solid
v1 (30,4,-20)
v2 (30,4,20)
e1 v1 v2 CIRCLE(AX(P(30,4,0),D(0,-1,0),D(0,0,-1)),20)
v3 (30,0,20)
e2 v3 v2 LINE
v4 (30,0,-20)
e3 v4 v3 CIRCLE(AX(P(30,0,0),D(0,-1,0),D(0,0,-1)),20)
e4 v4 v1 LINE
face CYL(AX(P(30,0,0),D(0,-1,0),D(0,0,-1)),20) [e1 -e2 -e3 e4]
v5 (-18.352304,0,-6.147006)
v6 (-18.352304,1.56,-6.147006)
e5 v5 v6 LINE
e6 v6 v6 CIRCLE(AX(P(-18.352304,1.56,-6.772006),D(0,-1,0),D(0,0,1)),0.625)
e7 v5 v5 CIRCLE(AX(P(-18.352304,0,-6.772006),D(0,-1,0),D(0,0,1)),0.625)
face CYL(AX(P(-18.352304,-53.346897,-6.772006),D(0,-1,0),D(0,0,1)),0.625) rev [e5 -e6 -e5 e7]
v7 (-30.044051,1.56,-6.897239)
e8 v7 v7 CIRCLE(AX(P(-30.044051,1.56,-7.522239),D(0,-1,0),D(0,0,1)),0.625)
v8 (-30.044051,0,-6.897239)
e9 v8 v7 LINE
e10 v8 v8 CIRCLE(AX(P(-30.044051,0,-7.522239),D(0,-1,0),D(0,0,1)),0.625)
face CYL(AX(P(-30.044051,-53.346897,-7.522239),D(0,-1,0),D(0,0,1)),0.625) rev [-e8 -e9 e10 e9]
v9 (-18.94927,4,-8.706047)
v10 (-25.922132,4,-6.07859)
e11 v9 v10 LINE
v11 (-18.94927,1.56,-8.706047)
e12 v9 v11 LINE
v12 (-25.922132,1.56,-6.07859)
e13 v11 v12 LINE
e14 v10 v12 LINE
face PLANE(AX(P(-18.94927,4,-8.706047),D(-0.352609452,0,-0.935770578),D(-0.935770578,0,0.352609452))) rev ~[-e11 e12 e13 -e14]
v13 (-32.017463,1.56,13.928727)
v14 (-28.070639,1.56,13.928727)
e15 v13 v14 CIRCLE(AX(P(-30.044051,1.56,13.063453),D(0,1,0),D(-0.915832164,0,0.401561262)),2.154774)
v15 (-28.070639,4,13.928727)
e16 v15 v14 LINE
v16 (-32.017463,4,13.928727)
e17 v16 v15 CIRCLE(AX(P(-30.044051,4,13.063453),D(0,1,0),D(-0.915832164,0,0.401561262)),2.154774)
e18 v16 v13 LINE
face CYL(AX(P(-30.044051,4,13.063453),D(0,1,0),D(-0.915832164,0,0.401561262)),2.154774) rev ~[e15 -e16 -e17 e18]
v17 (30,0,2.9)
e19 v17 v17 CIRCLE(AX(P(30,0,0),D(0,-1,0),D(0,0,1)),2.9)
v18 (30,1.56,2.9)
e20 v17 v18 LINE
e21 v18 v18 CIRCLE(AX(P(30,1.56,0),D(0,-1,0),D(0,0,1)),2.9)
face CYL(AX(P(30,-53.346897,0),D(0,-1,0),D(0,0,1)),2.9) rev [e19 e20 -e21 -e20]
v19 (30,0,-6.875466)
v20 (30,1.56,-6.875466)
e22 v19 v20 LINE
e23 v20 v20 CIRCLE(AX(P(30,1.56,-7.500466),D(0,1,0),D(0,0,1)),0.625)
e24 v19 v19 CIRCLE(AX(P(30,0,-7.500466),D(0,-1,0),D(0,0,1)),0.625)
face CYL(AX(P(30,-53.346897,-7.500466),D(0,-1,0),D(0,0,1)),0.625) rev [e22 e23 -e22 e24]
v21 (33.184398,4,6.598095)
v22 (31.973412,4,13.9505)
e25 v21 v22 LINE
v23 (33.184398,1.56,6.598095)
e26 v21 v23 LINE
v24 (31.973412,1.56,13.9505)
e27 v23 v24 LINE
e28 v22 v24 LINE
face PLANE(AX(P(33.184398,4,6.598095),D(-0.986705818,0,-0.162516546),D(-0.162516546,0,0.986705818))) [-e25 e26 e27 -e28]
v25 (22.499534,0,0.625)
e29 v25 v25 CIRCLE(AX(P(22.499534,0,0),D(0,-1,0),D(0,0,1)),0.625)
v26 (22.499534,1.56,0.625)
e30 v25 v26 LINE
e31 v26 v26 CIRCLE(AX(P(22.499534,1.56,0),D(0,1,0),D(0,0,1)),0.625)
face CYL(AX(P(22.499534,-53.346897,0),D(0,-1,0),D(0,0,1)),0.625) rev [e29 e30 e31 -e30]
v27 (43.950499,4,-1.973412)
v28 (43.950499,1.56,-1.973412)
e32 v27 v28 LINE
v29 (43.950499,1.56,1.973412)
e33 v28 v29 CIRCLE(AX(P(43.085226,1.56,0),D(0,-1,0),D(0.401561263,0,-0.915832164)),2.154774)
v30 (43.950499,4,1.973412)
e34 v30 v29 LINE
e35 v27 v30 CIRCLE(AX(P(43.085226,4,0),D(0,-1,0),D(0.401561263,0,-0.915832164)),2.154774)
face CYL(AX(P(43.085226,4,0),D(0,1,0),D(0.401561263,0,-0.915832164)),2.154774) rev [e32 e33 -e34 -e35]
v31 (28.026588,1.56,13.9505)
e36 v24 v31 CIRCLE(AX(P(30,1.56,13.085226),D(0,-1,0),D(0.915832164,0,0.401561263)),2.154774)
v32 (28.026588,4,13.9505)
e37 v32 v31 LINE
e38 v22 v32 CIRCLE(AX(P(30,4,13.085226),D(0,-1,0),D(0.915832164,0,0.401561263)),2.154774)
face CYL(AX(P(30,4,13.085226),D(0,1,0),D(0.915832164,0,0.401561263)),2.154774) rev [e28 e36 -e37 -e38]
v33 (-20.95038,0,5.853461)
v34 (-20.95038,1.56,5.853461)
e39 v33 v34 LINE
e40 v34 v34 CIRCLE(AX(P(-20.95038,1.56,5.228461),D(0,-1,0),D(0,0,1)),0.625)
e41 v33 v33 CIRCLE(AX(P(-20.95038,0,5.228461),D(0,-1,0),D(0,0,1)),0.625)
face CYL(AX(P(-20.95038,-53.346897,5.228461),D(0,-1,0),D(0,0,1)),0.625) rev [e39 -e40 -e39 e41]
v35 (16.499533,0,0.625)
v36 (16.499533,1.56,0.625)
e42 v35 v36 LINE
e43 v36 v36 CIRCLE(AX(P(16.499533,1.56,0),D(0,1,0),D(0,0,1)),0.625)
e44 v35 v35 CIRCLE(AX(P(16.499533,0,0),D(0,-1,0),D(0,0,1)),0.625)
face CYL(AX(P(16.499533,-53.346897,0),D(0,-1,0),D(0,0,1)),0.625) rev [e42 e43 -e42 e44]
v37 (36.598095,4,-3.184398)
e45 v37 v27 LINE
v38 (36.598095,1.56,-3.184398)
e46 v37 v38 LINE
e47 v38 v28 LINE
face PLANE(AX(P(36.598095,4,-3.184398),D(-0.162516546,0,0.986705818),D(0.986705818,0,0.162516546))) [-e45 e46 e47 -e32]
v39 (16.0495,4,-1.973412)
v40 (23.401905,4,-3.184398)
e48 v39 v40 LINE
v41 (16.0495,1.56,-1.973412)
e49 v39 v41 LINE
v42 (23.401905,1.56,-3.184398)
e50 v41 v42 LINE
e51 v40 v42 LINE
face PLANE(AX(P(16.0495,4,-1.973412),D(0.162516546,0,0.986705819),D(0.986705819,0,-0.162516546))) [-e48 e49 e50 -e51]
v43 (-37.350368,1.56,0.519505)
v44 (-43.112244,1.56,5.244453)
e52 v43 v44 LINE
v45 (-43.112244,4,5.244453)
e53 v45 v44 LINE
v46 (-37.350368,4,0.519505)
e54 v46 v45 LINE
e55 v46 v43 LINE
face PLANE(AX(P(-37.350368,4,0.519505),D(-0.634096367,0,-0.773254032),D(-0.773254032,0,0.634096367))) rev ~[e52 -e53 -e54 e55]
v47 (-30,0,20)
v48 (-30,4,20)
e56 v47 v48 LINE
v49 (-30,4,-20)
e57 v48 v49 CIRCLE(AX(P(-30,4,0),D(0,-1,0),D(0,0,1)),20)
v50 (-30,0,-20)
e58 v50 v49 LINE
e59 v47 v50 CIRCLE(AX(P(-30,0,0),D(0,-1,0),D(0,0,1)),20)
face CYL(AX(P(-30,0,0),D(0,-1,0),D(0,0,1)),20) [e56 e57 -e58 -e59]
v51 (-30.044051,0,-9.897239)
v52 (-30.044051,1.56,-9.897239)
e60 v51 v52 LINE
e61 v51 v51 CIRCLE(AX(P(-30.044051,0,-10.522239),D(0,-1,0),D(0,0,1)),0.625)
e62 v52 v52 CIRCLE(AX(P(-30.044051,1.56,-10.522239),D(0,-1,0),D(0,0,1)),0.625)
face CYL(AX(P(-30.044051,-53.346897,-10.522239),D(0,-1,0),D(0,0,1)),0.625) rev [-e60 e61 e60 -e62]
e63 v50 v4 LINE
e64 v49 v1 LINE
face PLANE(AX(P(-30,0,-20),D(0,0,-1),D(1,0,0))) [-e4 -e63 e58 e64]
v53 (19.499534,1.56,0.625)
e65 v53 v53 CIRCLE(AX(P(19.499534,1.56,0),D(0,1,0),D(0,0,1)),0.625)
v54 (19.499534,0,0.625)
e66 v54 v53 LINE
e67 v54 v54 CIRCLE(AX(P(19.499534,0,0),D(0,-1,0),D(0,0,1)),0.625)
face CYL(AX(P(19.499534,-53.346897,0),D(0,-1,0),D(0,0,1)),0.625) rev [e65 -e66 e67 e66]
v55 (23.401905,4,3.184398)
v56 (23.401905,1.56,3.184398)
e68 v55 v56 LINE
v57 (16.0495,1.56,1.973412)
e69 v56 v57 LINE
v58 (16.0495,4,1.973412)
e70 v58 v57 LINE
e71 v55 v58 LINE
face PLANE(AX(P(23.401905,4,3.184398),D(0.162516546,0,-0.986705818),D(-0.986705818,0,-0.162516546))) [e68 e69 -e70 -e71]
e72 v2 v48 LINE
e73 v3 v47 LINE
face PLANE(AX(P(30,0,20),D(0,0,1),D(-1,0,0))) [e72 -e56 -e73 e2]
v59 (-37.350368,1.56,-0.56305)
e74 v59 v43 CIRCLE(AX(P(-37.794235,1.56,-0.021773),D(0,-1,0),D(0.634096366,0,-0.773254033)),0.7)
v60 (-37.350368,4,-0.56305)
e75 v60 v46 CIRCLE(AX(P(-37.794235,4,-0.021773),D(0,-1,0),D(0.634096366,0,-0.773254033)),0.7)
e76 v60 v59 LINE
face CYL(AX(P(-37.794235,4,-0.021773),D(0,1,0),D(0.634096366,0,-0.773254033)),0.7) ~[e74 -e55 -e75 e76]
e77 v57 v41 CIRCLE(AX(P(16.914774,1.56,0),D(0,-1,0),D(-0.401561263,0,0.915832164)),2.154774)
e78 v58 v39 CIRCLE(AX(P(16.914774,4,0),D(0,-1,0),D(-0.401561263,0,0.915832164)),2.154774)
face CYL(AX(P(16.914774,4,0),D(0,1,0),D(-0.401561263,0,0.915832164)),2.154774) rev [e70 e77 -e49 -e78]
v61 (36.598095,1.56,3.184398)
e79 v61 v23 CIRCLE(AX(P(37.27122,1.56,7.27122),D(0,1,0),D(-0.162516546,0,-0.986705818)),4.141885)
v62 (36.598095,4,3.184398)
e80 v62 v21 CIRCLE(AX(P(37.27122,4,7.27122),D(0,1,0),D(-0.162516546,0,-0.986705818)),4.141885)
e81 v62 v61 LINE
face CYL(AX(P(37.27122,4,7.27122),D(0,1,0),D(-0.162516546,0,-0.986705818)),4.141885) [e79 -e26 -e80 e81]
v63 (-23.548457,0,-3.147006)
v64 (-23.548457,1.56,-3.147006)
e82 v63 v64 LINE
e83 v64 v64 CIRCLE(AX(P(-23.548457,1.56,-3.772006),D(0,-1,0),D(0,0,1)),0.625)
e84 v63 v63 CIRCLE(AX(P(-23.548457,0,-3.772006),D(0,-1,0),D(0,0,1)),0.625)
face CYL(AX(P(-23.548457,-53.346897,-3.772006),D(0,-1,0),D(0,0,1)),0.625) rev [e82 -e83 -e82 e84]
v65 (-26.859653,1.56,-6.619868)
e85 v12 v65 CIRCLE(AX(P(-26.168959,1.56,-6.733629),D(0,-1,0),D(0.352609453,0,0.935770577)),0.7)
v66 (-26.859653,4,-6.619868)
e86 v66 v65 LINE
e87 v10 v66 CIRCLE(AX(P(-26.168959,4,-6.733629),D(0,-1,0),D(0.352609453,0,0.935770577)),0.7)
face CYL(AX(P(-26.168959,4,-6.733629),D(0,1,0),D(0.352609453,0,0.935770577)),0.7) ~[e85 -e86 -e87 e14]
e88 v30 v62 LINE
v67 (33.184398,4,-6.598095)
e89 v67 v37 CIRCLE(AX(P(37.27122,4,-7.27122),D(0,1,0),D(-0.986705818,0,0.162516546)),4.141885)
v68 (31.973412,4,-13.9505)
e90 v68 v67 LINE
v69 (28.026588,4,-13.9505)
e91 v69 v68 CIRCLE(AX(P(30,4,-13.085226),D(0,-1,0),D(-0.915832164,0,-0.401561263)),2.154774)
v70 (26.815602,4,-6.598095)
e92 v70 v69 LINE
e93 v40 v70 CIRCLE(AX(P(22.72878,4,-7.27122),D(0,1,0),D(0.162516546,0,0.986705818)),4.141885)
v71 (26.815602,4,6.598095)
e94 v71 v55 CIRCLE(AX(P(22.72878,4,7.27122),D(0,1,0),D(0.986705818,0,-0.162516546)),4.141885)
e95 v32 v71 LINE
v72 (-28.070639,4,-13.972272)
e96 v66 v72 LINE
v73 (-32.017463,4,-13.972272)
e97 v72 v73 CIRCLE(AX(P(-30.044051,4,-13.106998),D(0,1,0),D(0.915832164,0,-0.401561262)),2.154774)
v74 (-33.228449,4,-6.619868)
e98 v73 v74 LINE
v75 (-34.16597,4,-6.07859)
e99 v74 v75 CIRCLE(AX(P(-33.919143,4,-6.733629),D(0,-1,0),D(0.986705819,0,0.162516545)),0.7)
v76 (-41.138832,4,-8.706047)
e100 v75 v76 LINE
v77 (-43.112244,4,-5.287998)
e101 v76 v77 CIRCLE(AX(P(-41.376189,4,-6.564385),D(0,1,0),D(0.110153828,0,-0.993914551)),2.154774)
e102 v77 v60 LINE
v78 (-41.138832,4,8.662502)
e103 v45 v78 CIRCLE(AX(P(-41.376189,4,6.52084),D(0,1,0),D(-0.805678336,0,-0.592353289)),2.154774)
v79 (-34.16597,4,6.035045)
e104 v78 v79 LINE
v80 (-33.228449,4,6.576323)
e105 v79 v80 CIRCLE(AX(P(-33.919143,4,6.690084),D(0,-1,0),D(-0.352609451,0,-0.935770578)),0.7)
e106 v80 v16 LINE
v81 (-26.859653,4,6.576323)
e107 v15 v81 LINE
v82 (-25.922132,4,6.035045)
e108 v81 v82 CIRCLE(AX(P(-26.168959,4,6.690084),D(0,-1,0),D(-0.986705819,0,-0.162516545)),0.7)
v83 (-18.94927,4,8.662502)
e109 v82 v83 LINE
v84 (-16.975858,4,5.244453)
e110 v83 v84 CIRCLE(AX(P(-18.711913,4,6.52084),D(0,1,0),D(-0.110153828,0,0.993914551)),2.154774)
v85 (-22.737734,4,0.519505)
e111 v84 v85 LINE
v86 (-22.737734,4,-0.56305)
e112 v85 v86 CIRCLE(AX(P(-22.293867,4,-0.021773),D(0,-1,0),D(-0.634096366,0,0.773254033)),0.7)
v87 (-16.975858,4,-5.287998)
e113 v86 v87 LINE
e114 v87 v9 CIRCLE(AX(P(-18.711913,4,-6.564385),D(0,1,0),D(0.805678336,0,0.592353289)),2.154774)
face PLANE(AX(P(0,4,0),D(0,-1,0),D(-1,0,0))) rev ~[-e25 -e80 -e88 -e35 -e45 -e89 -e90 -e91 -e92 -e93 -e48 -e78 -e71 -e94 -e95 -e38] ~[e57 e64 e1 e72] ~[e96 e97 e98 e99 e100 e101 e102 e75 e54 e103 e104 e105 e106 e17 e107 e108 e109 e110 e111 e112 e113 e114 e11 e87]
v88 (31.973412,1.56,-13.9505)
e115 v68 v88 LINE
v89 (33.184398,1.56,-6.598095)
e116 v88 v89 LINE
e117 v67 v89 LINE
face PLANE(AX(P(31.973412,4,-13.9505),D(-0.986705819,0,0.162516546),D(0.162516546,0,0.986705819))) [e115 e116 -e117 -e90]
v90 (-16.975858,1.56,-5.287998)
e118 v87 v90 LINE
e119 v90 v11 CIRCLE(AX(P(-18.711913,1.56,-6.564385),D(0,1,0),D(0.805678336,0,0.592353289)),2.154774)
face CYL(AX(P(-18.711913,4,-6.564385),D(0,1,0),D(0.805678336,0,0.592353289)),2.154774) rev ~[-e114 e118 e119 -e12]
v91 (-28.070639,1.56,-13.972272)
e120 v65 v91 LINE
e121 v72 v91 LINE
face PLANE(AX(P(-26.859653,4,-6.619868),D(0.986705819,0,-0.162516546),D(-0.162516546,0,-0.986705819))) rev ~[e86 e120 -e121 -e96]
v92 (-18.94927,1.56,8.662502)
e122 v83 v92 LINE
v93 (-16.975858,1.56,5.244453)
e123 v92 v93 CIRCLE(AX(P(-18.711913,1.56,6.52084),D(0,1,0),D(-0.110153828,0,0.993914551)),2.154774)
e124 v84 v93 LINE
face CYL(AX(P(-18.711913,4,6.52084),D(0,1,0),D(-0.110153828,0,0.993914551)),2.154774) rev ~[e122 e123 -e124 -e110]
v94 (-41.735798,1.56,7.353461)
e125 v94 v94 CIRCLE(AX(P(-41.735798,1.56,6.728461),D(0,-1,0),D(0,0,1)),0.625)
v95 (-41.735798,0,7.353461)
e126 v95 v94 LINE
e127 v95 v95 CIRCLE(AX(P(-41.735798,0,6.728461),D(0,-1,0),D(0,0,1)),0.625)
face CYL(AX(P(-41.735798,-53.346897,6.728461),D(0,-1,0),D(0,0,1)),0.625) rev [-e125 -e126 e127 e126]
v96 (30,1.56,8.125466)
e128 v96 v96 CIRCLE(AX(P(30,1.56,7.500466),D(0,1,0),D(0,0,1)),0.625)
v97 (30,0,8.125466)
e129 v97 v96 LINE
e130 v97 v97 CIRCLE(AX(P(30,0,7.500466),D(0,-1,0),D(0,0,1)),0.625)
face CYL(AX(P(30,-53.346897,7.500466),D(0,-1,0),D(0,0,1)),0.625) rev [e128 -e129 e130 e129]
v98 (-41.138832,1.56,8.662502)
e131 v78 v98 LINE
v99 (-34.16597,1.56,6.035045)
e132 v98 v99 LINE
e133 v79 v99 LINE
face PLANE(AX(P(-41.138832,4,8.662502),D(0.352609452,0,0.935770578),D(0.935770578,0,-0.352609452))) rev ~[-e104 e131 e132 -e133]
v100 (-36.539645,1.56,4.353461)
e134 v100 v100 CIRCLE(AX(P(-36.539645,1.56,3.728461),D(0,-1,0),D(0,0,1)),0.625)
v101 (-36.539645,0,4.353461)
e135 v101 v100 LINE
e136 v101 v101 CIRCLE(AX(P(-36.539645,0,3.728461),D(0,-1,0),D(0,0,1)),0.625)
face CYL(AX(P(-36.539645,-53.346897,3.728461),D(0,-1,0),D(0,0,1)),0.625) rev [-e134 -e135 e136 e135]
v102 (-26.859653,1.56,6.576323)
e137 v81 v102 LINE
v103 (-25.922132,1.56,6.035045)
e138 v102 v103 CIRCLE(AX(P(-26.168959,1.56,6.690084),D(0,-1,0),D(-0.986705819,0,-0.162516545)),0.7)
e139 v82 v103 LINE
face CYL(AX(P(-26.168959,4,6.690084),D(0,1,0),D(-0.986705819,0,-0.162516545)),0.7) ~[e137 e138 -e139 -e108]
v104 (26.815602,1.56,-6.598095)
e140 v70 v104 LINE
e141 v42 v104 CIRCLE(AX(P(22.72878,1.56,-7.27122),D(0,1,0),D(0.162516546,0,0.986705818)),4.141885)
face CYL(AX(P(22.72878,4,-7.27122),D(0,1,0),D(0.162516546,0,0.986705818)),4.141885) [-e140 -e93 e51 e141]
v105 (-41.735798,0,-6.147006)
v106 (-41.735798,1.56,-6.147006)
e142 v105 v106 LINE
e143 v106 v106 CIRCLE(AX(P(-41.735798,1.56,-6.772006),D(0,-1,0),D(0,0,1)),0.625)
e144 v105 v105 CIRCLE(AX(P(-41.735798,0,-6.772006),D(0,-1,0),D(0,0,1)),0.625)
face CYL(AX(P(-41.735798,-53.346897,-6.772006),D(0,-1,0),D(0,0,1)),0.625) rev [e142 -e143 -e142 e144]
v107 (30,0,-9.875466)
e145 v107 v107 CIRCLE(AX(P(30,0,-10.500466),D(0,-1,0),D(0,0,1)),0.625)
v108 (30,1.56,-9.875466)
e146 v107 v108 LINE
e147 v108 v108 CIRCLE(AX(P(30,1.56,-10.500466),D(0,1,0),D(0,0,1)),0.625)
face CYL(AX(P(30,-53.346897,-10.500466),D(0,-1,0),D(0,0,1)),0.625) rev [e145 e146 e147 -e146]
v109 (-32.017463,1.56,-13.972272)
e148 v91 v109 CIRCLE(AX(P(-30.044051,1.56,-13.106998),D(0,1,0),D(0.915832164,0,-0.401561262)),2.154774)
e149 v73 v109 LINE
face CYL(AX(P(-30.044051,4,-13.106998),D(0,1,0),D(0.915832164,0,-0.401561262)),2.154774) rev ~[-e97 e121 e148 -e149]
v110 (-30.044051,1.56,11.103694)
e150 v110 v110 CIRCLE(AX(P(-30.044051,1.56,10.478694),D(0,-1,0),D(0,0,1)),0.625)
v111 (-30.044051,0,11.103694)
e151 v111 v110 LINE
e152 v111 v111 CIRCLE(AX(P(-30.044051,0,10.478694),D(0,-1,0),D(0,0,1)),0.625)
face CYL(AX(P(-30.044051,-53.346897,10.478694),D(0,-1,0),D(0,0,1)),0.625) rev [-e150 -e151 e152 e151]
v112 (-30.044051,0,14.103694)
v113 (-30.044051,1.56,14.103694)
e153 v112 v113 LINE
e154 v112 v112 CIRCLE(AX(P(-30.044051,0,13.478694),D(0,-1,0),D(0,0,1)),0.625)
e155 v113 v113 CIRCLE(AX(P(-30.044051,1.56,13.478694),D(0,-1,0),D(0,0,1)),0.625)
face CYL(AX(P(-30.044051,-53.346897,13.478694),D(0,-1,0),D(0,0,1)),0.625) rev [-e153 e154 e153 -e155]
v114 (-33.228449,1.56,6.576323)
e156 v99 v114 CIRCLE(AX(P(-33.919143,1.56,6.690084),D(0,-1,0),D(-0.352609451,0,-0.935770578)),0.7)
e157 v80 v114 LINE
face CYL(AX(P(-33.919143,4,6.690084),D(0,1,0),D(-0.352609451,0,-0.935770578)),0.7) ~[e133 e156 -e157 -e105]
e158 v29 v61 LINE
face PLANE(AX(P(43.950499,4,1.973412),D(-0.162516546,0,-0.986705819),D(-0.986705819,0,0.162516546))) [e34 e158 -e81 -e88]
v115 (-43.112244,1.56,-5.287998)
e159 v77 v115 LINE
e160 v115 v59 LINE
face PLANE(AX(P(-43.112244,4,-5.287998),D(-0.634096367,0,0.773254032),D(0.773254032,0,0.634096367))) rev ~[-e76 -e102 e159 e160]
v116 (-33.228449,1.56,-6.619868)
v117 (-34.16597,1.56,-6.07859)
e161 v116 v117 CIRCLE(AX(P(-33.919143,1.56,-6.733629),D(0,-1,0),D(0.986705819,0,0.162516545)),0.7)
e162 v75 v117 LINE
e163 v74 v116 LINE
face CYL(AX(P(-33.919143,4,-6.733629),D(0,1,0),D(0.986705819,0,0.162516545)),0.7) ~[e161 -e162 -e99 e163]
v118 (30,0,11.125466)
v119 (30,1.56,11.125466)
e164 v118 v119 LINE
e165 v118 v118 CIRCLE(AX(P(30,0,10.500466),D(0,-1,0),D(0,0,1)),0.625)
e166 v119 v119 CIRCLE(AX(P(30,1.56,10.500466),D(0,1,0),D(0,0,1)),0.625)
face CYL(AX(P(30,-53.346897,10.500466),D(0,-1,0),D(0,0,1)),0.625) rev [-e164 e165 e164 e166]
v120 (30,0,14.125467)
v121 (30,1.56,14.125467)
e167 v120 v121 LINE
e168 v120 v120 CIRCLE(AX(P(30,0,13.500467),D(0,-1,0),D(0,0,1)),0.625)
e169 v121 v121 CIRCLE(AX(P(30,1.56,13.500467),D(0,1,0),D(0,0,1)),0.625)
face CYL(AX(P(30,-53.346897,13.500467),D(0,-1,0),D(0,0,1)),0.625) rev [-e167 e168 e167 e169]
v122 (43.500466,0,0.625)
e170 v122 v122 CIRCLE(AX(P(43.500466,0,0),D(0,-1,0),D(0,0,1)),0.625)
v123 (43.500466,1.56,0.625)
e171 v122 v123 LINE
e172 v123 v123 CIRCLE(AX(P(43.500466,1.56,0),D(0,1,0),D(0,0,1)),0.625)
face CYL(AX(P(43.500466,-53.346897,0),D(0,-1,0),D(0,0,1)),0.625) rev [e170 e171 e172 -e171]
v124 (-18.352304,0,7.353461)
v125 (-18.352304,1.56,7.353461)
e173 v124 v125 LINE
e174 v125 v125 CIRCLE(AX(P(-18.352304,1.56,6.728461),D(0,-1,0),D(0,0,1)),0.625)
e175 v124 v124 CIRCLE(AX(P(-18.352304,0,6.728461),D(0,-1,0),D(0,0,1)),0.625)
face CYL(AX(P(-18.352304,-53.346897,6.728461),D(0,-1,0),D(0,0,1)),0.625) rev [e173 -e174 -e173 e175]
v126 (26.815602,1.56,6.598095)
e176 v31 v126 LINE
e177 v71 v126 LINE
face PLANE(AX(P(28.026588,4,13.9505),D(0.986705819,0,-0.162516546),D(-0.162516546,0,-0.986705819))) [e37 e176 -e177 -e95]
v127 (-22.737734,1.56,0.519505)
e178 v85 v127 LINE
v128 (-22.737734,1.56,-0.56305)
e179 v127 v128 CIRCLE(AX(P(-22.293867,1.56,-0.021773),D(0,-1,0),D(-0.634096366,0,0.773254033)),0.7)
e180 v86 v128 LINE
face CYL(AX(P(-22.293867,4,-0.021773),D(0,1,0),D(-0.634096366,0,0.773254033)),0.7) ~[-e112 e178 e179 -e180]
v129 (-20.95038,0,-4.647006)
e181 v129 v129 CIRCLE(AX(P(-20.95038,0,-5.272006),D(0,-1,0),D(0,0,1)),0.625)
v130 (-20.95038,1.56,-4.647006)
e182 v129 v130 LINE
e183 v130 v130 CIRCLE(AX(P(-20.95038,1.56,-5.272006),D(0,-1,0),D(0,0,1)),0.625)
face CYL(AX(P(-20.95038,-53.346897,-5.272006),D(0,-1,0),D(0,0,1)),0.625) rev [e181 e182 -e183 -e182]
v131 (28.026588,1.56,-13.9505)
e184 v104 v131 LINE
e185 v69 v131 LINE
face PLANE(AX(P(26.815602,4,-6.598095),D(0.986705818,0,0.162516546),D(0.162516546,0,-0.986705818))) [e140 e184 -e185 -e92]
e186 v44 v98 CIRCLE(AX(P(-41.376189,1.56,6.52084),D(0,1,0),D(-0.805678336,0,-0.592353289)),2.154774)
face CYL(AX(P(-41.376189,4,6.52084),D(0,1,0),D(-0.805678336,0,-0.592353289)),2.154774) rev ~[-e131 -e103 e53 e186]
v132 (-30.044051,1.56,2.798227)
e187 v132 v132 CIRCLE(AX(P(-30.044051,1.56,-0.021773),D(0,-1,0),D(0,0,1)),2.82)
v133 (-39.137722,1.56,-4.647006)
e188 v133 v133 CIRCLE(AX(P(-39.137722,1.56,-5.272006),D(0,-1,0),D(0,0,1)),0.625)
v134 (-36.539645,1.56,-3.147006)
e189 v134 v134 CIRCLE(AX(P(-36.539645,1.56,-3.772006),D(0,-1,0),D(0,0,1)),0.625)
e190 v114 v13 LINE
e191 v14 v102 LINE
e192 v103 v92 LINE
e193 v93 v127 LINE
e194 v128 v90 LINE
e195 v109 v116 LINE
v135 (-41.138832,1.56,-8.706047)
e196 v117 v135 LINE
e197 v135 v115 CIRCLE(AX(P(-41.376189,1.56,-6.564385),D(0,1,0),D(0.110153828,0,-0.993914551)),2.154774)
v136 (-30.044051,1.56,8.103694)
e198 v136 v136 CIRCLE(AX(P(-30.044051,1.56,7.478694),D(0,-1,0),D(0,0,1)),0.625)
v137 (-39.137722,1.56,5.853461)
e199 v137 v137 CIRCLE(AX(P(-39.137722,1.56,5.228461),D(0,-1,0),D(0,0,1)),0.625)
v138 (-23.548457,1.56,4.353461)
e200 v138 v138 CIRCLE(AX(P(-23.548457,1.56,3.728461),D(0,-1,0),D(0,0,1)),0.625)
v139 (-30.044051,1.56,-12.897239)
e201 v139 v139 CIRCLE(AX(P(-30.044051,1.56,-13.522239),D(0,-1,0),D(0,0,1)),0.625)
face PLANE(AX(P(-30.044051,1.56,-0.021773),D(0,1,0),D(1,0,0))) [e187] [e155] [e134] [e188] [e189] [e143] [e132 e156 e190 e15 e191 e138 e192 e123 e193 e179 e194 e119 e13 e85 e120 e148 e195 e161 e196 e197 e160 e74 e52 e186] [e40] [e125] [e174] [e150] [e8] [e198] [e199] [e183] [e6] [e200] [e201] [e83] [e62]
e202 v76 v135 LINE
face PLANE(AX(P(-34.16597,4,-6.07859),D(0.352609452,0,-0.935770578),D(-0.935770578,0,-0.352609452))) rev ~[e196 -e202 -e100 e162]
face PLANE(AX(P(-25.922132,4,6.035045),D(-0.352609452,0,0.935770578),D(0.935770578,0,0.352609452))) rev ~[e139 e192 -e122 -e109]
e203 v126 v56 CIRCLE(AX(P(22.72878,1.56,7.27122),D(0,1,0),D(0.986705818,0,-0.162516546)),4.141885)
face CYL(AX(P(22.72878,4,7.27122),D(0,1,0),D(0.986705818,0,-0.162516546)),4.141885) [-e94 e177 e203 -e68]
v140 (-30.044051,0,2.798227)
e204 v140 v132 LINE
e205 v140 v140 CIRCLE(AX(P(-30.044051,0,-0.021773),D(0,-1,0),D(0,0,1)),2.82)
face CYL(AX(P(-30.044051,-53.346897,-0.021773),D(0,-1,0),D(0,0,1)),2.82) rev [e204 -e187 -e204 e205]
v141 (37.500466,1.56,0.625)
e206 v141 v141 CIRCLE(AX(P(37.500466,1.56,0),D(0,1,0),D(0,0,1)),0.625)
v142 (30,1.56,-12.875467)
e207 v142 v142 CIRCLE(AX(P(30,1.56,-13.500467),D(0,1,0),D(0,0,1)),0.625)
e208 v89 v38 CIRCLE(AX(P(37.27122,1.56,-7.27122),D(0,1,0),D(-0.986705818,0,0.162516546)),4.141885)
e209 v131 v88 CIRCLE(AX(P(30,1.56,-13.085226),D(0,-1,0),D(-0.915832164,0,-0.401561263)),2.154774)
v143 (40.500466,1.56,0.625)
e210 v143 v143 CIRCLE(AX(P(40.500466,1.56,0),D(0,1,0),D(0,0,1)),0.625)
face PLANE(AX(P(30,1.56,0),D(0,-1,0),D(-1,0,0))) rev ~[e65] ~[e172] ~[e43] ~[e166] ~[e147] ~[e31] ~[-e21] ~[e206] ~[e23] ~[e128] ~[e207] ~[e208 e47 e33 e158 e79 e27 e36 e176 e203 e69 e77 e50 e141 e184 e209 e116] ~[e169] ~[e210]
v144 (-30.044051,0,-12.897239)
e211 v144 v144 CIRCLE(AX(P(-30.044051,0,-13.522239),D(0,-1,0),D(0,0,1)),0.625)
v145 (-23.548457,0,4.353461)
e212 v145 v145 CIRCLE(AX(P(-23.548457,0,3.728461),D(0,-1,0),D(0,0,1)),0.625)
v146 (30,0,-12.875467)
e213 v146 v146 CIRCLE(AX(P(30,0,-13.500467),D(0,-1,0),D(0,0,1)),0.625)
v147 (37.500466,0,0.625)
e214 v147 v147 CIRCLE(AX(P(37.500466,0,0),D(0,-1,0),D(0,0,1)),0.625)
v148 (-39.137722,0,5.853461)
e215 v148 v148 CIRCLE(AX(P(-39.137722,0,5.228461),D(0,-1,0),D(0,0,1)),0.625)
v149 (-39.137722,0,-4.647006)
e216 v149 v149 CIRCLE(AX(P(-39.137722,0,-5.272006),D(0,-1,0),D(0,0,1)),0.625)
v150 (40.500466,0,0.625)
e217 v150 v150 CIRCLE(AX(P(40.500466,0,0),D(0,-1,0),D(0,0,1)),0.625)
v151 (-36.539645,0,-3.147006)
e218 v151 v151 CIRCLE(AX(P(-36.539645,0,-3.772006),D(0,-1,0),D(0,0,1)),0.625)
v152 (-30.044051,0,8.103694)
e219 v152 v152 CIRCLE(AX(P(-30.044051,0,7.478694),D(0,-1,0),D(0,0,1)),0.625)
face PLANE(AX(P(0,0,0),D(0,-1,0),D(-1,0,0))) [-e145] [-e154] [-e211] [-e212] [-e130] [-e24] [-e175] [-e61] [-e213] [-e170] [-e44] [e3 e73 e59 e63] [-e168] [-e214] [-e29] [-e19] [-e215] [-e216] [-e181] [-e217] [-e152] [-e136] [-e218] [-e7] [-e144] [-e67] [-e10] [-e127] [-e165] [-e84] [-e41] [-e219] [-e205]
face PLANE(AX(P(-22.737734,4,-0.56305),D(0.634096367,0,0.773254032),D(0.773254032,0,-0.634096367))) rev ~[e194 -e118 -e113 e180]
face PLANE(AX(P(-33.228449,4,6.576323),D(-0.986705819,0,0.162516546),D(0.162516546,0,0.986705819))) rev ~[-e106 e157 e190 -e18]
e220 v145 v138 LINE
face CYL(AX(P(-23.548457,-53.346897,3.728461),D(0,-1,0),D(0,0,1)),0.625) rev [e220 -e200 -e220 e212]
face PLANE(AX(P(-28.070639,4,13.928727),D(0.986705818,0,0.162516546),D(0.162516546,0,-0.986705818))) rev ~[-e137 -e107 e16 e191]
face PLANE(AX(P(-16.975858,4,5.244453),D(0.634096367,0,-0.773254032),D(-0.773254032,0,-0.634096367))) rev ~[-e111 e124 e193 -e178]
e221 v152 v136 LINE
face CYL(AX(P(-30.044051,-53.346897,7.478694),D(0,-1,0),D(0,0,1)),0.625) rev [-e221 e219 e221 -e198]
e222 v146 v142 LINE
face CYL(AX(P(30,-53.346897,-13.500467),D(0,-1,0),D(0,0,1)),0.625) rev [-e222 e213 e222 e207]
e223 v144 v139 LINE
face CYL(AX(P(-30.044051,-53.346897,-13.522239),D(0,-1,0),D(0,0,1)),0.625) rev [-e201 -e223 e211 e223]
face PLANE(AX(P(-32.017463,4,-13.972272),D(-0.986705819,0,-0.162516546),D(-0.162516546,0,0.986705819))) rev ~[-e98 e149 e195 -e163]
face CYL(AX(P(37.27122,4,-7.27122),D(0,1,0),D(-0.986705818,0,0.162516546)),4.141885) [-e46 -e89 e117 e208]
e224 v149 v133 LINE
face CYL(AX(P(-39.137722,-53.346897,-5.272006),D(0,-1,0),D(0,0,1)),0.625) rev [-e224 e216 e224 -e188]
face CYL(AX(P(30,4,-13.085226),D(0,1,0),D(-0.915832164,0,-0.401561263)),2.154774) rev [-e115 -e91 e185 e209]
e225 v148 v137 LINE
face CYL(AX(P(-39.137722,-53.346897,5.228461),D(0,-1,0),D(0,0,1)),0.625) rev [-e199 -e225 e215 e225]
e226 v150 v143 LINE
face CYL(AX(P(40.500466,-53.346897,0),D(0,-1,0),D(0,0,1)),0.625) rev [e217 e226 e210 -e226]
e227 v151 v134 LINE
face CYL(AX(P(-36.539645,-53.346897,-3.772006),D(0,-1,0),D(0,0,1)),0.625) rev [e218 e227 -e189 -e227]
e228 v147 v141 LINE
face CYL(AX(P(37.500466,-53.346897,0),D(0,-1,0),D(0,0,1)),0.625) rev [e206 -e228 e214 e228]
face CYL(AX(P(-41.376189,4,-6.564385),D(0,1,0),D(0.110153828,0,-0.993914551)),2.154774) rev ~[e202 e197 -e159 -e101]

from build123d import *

# Parameters (mm, degrees)
BOSS_EXTRUDE1_DEPTH     = 4
SKETCH2_R               = 0.62500002
CUT_EXTRUDE1_DEPTH      = 2.44
CUT_EXTRUDE3_DEPTH      = 54.906897466
CUT_EXTRUDE3_DEPTH_BACK = 54.906897466
SKETCH3_R               = 0.62500002
SKETCH3_R_2             = 2.819999948
SKETCH3_R_3             = 2.899999788


with BuildPart() as part:
    # Sketch1 → Boss-Extrude1 (new body)
    with BuildSketch(Plane(origin=(0, 0, 0), x_dir=(1, 0, 0), z_dir=(0, 1, 0))):
        with BuildLine():
            Line((-29.999999944, 20), (29.999999944, 20))
            ThreePointArc((29.999999944, 20), (49.999999944, 0), (29.999999944, -20))
            Line((29.999999944, -20), (-29.999999944, -20))
            ThreePointArc((-29.999999944, -20), (-49.999999944, 0), (-29.999999944, 20))
        make_face()
    extrude(amount=BOSS_EXTRUDE1_DEPTH)

    # Sketch2 → Cut-Extrude1 (cut)
    # profile 1 of 2: a face of its own
    with BuildSketch(Plane(origin=(0, 4, 0), x_dir=(1, 0, 0), z_dir=(0, 1, 0))):
        with BuildLine():
            ThreePointArc((-25.922132216, 6.078589696), (-26.51895884, 6.127411318), (-26.859652917, 6.619867525))
            Line((-26.859652917, 6.619867525), (-28.07063938, 13.972272054))
            ThreePointArc((-28.07063938, 13.972272054), (-30.044051051, 15.261772506), (-32.017462722, 13.972272054))
            Line((-32.017462722, 13.972272054), (-33.228449185, 6.619867525))
            ThreePointArc((-33.228449185, 6.619867525), (-33.569143262, 6.127411318), (-34.165969886, 6.078589696))
            Line((-34.165969886, 6.078589696), (-41.138832219, 8.70604692))
            ThreePointArc((-41.138832219, 8.70604692), (-43.242278204, 7.641772507), (-43.112243889, 5.287997642))
            Line((-43.112243889, 5.287997642), (-37.35036802, 0.563050336))
            ThreePointArc((-37.35036802, 0.563050336), (-37.094235473, 0.021772507), (-37.35036802, -0.519505322))
            Line((-37.35036802, -0.519505322), (-43.112243889, -5.244452627))
            ThreePointArc((-43.112243889, -5.244452627), (-43.242278204, -7.598227492), (-41.138832218, -8.662501905))
            Line((-41.138832218, -8.662501905), (-34.165969886, -6.035044681))
            ThreePointArc((-34.165969886, -6.035044681), (-33.569143262, -6.083866304), (-33.228449185, -6.57632251))
            Line((-33.228449185, -6.57632251), (-32.017462722, -13.928727039))
            ThreePointArc((-32.017462722, -13.928727039), (-30.044051051, -15.218227491), (-28.07063938, -13.928727039))
            Line((-28.07063938, -13.928727039), (-26.859652917, -6.576322511))
            ThreePointArc((-26.859652917, -6.576322511), (-26.51895884, -6.083866304), (-25.922132216, -6.035044681))
            Line((-25.922132216, -6.035044681), (-18.949269883, -8.662501905))
            ThreePointArc((-18.949269883, -8.662501905), (-16.845823898, -7.598227492), (-16.975858213, -5.244452627))
            Line((-16.975858213, -5.244452627), (-22.737734082, -0.519505322))
            ThreePointArc((-22.737734082, -0.519505322), (-22.993866629, 0.021772507), (-22.737734082, 0.563050336))
            Line((-22.737734082, 0.563050336), (-16.975858213, 5.287997642))
            ThreePointArc((-16.975858213, 5.287997642), (-16.845823898, 7.641772507), (-18.949269884, 8.70604692))
            Line((-18.949269884, 8.70604692), (-25.922132216, 6.078589696))
        make_face()
    # profile 2 of 2: a face of its own
    with BuildSketch(Plane(origin=(0, 4, 0), x_dir=(1, 0, 0), z_dir=(0, 1, 0))):
        with BuildLine():
            ThreePointArc((33.184398078, -6.598095019), (34.342465035, -4.342465091), (36.598094963, -3.184398134))
            Line((36.598094963, -3.184398134), (43.950499492, -1.973411671))
            ThreePointArc((43.950499492, -1.973411671), (45.239999942, 1e-09), (43.950499491, 1.973411671))
            Line((43.950499491, 1.973411671), (36.598094963, 3.184398134))
            ThreePointArc((36.598094963, 3.184398134), (34.342465035, 4.342465091), (33.184398078, 6.598095019))
            Line((33.184398078, 6.598095019), (31.973411615, 13.950499548))
            ThreePointArc((31.973411615, 13.950499548), (29.999999943, 15.239999998), (28.026588273, 13.950499547))
            Line((28.026588273, 13.950499547), (26.81560181, 6.598095019))
            ThreePointArc((26.81560181, 6.598095019), (25.657534853, 4.342465091), (23.401904925, 3.184398134))
            Line((23.401904925, 3.184398134), (16.049500396, 1.973411671))
            ThreePointArc((16.049500396, 1.973411671), (14.759999946, -1e-09), (16.049500397, -1.973411671))
            Line((16.049500397, -1.973411671), (23.401904925, -3.184398134))
            ThreePointArc((23.401904925, -3.184398134), (25.657534853, -4.342465091), (26.81560181, -6.598095019))
            Line((26.81560181, -6.598095019), (28.026588273, -13.950499548))
            ThreePointArc((28.026588273, -13.950499548), (29.999999945, -15.239999998), (31.973411615, -13.950499547))
            Line((31.973411615, -13.950499547), (33.184398078, -6.598095019))
        make_face()
        with Locations((29.999999944, -13.500466522)):
            Circle(SKETCH2_R, mode=Mode.SUBTRACT)
        with Locations((29.999999944, -10.500466426)):
            Circle(SKETCH2_R, mode=Mode.SUBTRACT)
        with Locations((16.499533422, 0)):
            Circle(SKETCH2_R, mode=Mode.SUBTRACT)
        with Locations((19.499533518, 0)):
            Circle(SKETCH2_R, mode=Mode.SUBTRACT)
        with Locations((22.499533614, 0)):
            Circle(SKETCH2_R, mode=Mode.SUBTRACT)
        with Locations((29.999999944, -7.50046633)):
            Circle(SKETCH2_R, mode=Mode.SUBTRACT)
        with Locations((37.500466274, 0)):
            Circle(SKETCH2_R, mode=Mode.SUBTRACT)
        with Locations((40.50046637, 0)):
            Circle(SKETCH2_R, mode=Mode.SUBTRACT)
        with Locations((43.500466466, 0)):
            Circle(SKETCH2_R, mode=Mode.SUBTRACT)
        with Locations((29.999999944, 7.50046633)):
            Circle(SKETCH2_R, mode=Mode.SUBTRACT)
        with Locations((29.999999944, 10.500466426)):
            Circle(SKETCH2_R, mode=Mode.SUBTRACT)
        with Locations((29.999999944, 13.500466522)):
            Circle(SKETCH2_R, mode=Mode.SUBTRACT)
    extrude(amount=-CUT_EXTRUDE1_DEPTH, mode=Mode.SUBTRACT)

    # Sketch3 → Cut-Extrude3 (cut, two sides: drawn at the far end of the back side and taken through both)
    with BuildSketch(Plane(origin=(0, 1.56, 0), x_dir=(1, 0, 0), z_dir=(0, 1, 0)).offset(-CUT_EXTRUDE3_DEPTH_BACK)):
        with Locations((-30.044051051, 13.522239028)):
            Circle(SKETCH3_R)
        with Locations((-30.044051051, 10.522238932)):
            Circle(SKETCH3_R)
        with Locations((-30.044051051, 7.522238836)):
            Circle(SKETCH3_R)
        with Locations((-23.548456669, 3.772005671)):
            Circle(SKETCH3_R)
        with Locations((-20.950380374, 5.272005719)):
            Circle(SKETCH3_R)
        with Locations((-18.35230408, 6.772005767)):
            Circle(SKETCH3_R)
        with Locations((-23.548456669, -3.728460659)):
            Circle(SKETCH3_R)
        with Locations((-20.950380374, -5.228460707)):
            Circle(SKETCH3_R)
        with Locations((-18.35230408, -6.728460755)):
            Circle(SKETCH3_R)
        with Locations((-30.044051051, -7.478693824)):
            Circle(SKETCH3_R)
        with Locations((-30.044051051, -10.47869392)):
            Circle(SKETCH3_R)
        with Locations((-30.044051051, -13.478694016)):
            Circle(SKETCH3_R)
        with Locations((-36.539645433, -3.728460659)):
            Circle(SKETCH3_R)
        with Locations((-39.137721727, -5.228460707)):
            Circle(SKETCH3_R)
        with Locations((-41.735798022, -6.728460755)):
            Circle(SKETCH3_R)
        with Locations((-36.539645433, 3.772005671)):
            Circle(SKETCH3_R)
        with Locations((-39.137721727, 5.272005719)):
            Circle(SKETCH3_R)
        with Locations((-41.735798022, 6.772005767)):
            Circle(SKETCH3_R)
        with Locations((-30.044051051, 0.021772506)):
            Circle(SKETCH3_R_2)
        with Locations((29.999999944, 0)):
            Circle(SKETCH3_R_3)
        with Locations((29.999999944, 7.50046633)):
            Circle(SKETCH3_R)
        with Locations((29.999999944, 10.500466426)):
            Circle(SKETCH3_R)
        with Locations((29.999999944, 13.500466522)):
            Circle(SKETCH3_R)
        with Locations((16.499533422, 0)):
            Circle(SKETCH3_R)
        with Locations((19.499533518, 0)):
            Circle(SKETCH3_R)
        with Locations((22.499533614, 0)):
            Circle(SKETCH3_R)
        with Locations((29.999999944, -13.500466522)):
            Circle(SKETCH3_R)
        with Locations((29.999999944, -10.500466426)):
            Circle(SKETCH3_R)
        with Locations((29.999999944, -7.50046633)):
            Circle(SKETCH3_R)
        with Locations((43.500466466, 0)):
            Circle(SKETCH3_R)
        with Locations((40.50046637, 0)):
            Circle(SKETCH3_R)
        with Locations((37.500466274, 0)):
            Circle(SKETCH3_R)
    extrude(amount=CUT_EXTRUDE3_DEPTH + CUT_EXTRUDE3_DEPTH_BACK, mode=Mode.SUBTRACT)


solid = part.part
